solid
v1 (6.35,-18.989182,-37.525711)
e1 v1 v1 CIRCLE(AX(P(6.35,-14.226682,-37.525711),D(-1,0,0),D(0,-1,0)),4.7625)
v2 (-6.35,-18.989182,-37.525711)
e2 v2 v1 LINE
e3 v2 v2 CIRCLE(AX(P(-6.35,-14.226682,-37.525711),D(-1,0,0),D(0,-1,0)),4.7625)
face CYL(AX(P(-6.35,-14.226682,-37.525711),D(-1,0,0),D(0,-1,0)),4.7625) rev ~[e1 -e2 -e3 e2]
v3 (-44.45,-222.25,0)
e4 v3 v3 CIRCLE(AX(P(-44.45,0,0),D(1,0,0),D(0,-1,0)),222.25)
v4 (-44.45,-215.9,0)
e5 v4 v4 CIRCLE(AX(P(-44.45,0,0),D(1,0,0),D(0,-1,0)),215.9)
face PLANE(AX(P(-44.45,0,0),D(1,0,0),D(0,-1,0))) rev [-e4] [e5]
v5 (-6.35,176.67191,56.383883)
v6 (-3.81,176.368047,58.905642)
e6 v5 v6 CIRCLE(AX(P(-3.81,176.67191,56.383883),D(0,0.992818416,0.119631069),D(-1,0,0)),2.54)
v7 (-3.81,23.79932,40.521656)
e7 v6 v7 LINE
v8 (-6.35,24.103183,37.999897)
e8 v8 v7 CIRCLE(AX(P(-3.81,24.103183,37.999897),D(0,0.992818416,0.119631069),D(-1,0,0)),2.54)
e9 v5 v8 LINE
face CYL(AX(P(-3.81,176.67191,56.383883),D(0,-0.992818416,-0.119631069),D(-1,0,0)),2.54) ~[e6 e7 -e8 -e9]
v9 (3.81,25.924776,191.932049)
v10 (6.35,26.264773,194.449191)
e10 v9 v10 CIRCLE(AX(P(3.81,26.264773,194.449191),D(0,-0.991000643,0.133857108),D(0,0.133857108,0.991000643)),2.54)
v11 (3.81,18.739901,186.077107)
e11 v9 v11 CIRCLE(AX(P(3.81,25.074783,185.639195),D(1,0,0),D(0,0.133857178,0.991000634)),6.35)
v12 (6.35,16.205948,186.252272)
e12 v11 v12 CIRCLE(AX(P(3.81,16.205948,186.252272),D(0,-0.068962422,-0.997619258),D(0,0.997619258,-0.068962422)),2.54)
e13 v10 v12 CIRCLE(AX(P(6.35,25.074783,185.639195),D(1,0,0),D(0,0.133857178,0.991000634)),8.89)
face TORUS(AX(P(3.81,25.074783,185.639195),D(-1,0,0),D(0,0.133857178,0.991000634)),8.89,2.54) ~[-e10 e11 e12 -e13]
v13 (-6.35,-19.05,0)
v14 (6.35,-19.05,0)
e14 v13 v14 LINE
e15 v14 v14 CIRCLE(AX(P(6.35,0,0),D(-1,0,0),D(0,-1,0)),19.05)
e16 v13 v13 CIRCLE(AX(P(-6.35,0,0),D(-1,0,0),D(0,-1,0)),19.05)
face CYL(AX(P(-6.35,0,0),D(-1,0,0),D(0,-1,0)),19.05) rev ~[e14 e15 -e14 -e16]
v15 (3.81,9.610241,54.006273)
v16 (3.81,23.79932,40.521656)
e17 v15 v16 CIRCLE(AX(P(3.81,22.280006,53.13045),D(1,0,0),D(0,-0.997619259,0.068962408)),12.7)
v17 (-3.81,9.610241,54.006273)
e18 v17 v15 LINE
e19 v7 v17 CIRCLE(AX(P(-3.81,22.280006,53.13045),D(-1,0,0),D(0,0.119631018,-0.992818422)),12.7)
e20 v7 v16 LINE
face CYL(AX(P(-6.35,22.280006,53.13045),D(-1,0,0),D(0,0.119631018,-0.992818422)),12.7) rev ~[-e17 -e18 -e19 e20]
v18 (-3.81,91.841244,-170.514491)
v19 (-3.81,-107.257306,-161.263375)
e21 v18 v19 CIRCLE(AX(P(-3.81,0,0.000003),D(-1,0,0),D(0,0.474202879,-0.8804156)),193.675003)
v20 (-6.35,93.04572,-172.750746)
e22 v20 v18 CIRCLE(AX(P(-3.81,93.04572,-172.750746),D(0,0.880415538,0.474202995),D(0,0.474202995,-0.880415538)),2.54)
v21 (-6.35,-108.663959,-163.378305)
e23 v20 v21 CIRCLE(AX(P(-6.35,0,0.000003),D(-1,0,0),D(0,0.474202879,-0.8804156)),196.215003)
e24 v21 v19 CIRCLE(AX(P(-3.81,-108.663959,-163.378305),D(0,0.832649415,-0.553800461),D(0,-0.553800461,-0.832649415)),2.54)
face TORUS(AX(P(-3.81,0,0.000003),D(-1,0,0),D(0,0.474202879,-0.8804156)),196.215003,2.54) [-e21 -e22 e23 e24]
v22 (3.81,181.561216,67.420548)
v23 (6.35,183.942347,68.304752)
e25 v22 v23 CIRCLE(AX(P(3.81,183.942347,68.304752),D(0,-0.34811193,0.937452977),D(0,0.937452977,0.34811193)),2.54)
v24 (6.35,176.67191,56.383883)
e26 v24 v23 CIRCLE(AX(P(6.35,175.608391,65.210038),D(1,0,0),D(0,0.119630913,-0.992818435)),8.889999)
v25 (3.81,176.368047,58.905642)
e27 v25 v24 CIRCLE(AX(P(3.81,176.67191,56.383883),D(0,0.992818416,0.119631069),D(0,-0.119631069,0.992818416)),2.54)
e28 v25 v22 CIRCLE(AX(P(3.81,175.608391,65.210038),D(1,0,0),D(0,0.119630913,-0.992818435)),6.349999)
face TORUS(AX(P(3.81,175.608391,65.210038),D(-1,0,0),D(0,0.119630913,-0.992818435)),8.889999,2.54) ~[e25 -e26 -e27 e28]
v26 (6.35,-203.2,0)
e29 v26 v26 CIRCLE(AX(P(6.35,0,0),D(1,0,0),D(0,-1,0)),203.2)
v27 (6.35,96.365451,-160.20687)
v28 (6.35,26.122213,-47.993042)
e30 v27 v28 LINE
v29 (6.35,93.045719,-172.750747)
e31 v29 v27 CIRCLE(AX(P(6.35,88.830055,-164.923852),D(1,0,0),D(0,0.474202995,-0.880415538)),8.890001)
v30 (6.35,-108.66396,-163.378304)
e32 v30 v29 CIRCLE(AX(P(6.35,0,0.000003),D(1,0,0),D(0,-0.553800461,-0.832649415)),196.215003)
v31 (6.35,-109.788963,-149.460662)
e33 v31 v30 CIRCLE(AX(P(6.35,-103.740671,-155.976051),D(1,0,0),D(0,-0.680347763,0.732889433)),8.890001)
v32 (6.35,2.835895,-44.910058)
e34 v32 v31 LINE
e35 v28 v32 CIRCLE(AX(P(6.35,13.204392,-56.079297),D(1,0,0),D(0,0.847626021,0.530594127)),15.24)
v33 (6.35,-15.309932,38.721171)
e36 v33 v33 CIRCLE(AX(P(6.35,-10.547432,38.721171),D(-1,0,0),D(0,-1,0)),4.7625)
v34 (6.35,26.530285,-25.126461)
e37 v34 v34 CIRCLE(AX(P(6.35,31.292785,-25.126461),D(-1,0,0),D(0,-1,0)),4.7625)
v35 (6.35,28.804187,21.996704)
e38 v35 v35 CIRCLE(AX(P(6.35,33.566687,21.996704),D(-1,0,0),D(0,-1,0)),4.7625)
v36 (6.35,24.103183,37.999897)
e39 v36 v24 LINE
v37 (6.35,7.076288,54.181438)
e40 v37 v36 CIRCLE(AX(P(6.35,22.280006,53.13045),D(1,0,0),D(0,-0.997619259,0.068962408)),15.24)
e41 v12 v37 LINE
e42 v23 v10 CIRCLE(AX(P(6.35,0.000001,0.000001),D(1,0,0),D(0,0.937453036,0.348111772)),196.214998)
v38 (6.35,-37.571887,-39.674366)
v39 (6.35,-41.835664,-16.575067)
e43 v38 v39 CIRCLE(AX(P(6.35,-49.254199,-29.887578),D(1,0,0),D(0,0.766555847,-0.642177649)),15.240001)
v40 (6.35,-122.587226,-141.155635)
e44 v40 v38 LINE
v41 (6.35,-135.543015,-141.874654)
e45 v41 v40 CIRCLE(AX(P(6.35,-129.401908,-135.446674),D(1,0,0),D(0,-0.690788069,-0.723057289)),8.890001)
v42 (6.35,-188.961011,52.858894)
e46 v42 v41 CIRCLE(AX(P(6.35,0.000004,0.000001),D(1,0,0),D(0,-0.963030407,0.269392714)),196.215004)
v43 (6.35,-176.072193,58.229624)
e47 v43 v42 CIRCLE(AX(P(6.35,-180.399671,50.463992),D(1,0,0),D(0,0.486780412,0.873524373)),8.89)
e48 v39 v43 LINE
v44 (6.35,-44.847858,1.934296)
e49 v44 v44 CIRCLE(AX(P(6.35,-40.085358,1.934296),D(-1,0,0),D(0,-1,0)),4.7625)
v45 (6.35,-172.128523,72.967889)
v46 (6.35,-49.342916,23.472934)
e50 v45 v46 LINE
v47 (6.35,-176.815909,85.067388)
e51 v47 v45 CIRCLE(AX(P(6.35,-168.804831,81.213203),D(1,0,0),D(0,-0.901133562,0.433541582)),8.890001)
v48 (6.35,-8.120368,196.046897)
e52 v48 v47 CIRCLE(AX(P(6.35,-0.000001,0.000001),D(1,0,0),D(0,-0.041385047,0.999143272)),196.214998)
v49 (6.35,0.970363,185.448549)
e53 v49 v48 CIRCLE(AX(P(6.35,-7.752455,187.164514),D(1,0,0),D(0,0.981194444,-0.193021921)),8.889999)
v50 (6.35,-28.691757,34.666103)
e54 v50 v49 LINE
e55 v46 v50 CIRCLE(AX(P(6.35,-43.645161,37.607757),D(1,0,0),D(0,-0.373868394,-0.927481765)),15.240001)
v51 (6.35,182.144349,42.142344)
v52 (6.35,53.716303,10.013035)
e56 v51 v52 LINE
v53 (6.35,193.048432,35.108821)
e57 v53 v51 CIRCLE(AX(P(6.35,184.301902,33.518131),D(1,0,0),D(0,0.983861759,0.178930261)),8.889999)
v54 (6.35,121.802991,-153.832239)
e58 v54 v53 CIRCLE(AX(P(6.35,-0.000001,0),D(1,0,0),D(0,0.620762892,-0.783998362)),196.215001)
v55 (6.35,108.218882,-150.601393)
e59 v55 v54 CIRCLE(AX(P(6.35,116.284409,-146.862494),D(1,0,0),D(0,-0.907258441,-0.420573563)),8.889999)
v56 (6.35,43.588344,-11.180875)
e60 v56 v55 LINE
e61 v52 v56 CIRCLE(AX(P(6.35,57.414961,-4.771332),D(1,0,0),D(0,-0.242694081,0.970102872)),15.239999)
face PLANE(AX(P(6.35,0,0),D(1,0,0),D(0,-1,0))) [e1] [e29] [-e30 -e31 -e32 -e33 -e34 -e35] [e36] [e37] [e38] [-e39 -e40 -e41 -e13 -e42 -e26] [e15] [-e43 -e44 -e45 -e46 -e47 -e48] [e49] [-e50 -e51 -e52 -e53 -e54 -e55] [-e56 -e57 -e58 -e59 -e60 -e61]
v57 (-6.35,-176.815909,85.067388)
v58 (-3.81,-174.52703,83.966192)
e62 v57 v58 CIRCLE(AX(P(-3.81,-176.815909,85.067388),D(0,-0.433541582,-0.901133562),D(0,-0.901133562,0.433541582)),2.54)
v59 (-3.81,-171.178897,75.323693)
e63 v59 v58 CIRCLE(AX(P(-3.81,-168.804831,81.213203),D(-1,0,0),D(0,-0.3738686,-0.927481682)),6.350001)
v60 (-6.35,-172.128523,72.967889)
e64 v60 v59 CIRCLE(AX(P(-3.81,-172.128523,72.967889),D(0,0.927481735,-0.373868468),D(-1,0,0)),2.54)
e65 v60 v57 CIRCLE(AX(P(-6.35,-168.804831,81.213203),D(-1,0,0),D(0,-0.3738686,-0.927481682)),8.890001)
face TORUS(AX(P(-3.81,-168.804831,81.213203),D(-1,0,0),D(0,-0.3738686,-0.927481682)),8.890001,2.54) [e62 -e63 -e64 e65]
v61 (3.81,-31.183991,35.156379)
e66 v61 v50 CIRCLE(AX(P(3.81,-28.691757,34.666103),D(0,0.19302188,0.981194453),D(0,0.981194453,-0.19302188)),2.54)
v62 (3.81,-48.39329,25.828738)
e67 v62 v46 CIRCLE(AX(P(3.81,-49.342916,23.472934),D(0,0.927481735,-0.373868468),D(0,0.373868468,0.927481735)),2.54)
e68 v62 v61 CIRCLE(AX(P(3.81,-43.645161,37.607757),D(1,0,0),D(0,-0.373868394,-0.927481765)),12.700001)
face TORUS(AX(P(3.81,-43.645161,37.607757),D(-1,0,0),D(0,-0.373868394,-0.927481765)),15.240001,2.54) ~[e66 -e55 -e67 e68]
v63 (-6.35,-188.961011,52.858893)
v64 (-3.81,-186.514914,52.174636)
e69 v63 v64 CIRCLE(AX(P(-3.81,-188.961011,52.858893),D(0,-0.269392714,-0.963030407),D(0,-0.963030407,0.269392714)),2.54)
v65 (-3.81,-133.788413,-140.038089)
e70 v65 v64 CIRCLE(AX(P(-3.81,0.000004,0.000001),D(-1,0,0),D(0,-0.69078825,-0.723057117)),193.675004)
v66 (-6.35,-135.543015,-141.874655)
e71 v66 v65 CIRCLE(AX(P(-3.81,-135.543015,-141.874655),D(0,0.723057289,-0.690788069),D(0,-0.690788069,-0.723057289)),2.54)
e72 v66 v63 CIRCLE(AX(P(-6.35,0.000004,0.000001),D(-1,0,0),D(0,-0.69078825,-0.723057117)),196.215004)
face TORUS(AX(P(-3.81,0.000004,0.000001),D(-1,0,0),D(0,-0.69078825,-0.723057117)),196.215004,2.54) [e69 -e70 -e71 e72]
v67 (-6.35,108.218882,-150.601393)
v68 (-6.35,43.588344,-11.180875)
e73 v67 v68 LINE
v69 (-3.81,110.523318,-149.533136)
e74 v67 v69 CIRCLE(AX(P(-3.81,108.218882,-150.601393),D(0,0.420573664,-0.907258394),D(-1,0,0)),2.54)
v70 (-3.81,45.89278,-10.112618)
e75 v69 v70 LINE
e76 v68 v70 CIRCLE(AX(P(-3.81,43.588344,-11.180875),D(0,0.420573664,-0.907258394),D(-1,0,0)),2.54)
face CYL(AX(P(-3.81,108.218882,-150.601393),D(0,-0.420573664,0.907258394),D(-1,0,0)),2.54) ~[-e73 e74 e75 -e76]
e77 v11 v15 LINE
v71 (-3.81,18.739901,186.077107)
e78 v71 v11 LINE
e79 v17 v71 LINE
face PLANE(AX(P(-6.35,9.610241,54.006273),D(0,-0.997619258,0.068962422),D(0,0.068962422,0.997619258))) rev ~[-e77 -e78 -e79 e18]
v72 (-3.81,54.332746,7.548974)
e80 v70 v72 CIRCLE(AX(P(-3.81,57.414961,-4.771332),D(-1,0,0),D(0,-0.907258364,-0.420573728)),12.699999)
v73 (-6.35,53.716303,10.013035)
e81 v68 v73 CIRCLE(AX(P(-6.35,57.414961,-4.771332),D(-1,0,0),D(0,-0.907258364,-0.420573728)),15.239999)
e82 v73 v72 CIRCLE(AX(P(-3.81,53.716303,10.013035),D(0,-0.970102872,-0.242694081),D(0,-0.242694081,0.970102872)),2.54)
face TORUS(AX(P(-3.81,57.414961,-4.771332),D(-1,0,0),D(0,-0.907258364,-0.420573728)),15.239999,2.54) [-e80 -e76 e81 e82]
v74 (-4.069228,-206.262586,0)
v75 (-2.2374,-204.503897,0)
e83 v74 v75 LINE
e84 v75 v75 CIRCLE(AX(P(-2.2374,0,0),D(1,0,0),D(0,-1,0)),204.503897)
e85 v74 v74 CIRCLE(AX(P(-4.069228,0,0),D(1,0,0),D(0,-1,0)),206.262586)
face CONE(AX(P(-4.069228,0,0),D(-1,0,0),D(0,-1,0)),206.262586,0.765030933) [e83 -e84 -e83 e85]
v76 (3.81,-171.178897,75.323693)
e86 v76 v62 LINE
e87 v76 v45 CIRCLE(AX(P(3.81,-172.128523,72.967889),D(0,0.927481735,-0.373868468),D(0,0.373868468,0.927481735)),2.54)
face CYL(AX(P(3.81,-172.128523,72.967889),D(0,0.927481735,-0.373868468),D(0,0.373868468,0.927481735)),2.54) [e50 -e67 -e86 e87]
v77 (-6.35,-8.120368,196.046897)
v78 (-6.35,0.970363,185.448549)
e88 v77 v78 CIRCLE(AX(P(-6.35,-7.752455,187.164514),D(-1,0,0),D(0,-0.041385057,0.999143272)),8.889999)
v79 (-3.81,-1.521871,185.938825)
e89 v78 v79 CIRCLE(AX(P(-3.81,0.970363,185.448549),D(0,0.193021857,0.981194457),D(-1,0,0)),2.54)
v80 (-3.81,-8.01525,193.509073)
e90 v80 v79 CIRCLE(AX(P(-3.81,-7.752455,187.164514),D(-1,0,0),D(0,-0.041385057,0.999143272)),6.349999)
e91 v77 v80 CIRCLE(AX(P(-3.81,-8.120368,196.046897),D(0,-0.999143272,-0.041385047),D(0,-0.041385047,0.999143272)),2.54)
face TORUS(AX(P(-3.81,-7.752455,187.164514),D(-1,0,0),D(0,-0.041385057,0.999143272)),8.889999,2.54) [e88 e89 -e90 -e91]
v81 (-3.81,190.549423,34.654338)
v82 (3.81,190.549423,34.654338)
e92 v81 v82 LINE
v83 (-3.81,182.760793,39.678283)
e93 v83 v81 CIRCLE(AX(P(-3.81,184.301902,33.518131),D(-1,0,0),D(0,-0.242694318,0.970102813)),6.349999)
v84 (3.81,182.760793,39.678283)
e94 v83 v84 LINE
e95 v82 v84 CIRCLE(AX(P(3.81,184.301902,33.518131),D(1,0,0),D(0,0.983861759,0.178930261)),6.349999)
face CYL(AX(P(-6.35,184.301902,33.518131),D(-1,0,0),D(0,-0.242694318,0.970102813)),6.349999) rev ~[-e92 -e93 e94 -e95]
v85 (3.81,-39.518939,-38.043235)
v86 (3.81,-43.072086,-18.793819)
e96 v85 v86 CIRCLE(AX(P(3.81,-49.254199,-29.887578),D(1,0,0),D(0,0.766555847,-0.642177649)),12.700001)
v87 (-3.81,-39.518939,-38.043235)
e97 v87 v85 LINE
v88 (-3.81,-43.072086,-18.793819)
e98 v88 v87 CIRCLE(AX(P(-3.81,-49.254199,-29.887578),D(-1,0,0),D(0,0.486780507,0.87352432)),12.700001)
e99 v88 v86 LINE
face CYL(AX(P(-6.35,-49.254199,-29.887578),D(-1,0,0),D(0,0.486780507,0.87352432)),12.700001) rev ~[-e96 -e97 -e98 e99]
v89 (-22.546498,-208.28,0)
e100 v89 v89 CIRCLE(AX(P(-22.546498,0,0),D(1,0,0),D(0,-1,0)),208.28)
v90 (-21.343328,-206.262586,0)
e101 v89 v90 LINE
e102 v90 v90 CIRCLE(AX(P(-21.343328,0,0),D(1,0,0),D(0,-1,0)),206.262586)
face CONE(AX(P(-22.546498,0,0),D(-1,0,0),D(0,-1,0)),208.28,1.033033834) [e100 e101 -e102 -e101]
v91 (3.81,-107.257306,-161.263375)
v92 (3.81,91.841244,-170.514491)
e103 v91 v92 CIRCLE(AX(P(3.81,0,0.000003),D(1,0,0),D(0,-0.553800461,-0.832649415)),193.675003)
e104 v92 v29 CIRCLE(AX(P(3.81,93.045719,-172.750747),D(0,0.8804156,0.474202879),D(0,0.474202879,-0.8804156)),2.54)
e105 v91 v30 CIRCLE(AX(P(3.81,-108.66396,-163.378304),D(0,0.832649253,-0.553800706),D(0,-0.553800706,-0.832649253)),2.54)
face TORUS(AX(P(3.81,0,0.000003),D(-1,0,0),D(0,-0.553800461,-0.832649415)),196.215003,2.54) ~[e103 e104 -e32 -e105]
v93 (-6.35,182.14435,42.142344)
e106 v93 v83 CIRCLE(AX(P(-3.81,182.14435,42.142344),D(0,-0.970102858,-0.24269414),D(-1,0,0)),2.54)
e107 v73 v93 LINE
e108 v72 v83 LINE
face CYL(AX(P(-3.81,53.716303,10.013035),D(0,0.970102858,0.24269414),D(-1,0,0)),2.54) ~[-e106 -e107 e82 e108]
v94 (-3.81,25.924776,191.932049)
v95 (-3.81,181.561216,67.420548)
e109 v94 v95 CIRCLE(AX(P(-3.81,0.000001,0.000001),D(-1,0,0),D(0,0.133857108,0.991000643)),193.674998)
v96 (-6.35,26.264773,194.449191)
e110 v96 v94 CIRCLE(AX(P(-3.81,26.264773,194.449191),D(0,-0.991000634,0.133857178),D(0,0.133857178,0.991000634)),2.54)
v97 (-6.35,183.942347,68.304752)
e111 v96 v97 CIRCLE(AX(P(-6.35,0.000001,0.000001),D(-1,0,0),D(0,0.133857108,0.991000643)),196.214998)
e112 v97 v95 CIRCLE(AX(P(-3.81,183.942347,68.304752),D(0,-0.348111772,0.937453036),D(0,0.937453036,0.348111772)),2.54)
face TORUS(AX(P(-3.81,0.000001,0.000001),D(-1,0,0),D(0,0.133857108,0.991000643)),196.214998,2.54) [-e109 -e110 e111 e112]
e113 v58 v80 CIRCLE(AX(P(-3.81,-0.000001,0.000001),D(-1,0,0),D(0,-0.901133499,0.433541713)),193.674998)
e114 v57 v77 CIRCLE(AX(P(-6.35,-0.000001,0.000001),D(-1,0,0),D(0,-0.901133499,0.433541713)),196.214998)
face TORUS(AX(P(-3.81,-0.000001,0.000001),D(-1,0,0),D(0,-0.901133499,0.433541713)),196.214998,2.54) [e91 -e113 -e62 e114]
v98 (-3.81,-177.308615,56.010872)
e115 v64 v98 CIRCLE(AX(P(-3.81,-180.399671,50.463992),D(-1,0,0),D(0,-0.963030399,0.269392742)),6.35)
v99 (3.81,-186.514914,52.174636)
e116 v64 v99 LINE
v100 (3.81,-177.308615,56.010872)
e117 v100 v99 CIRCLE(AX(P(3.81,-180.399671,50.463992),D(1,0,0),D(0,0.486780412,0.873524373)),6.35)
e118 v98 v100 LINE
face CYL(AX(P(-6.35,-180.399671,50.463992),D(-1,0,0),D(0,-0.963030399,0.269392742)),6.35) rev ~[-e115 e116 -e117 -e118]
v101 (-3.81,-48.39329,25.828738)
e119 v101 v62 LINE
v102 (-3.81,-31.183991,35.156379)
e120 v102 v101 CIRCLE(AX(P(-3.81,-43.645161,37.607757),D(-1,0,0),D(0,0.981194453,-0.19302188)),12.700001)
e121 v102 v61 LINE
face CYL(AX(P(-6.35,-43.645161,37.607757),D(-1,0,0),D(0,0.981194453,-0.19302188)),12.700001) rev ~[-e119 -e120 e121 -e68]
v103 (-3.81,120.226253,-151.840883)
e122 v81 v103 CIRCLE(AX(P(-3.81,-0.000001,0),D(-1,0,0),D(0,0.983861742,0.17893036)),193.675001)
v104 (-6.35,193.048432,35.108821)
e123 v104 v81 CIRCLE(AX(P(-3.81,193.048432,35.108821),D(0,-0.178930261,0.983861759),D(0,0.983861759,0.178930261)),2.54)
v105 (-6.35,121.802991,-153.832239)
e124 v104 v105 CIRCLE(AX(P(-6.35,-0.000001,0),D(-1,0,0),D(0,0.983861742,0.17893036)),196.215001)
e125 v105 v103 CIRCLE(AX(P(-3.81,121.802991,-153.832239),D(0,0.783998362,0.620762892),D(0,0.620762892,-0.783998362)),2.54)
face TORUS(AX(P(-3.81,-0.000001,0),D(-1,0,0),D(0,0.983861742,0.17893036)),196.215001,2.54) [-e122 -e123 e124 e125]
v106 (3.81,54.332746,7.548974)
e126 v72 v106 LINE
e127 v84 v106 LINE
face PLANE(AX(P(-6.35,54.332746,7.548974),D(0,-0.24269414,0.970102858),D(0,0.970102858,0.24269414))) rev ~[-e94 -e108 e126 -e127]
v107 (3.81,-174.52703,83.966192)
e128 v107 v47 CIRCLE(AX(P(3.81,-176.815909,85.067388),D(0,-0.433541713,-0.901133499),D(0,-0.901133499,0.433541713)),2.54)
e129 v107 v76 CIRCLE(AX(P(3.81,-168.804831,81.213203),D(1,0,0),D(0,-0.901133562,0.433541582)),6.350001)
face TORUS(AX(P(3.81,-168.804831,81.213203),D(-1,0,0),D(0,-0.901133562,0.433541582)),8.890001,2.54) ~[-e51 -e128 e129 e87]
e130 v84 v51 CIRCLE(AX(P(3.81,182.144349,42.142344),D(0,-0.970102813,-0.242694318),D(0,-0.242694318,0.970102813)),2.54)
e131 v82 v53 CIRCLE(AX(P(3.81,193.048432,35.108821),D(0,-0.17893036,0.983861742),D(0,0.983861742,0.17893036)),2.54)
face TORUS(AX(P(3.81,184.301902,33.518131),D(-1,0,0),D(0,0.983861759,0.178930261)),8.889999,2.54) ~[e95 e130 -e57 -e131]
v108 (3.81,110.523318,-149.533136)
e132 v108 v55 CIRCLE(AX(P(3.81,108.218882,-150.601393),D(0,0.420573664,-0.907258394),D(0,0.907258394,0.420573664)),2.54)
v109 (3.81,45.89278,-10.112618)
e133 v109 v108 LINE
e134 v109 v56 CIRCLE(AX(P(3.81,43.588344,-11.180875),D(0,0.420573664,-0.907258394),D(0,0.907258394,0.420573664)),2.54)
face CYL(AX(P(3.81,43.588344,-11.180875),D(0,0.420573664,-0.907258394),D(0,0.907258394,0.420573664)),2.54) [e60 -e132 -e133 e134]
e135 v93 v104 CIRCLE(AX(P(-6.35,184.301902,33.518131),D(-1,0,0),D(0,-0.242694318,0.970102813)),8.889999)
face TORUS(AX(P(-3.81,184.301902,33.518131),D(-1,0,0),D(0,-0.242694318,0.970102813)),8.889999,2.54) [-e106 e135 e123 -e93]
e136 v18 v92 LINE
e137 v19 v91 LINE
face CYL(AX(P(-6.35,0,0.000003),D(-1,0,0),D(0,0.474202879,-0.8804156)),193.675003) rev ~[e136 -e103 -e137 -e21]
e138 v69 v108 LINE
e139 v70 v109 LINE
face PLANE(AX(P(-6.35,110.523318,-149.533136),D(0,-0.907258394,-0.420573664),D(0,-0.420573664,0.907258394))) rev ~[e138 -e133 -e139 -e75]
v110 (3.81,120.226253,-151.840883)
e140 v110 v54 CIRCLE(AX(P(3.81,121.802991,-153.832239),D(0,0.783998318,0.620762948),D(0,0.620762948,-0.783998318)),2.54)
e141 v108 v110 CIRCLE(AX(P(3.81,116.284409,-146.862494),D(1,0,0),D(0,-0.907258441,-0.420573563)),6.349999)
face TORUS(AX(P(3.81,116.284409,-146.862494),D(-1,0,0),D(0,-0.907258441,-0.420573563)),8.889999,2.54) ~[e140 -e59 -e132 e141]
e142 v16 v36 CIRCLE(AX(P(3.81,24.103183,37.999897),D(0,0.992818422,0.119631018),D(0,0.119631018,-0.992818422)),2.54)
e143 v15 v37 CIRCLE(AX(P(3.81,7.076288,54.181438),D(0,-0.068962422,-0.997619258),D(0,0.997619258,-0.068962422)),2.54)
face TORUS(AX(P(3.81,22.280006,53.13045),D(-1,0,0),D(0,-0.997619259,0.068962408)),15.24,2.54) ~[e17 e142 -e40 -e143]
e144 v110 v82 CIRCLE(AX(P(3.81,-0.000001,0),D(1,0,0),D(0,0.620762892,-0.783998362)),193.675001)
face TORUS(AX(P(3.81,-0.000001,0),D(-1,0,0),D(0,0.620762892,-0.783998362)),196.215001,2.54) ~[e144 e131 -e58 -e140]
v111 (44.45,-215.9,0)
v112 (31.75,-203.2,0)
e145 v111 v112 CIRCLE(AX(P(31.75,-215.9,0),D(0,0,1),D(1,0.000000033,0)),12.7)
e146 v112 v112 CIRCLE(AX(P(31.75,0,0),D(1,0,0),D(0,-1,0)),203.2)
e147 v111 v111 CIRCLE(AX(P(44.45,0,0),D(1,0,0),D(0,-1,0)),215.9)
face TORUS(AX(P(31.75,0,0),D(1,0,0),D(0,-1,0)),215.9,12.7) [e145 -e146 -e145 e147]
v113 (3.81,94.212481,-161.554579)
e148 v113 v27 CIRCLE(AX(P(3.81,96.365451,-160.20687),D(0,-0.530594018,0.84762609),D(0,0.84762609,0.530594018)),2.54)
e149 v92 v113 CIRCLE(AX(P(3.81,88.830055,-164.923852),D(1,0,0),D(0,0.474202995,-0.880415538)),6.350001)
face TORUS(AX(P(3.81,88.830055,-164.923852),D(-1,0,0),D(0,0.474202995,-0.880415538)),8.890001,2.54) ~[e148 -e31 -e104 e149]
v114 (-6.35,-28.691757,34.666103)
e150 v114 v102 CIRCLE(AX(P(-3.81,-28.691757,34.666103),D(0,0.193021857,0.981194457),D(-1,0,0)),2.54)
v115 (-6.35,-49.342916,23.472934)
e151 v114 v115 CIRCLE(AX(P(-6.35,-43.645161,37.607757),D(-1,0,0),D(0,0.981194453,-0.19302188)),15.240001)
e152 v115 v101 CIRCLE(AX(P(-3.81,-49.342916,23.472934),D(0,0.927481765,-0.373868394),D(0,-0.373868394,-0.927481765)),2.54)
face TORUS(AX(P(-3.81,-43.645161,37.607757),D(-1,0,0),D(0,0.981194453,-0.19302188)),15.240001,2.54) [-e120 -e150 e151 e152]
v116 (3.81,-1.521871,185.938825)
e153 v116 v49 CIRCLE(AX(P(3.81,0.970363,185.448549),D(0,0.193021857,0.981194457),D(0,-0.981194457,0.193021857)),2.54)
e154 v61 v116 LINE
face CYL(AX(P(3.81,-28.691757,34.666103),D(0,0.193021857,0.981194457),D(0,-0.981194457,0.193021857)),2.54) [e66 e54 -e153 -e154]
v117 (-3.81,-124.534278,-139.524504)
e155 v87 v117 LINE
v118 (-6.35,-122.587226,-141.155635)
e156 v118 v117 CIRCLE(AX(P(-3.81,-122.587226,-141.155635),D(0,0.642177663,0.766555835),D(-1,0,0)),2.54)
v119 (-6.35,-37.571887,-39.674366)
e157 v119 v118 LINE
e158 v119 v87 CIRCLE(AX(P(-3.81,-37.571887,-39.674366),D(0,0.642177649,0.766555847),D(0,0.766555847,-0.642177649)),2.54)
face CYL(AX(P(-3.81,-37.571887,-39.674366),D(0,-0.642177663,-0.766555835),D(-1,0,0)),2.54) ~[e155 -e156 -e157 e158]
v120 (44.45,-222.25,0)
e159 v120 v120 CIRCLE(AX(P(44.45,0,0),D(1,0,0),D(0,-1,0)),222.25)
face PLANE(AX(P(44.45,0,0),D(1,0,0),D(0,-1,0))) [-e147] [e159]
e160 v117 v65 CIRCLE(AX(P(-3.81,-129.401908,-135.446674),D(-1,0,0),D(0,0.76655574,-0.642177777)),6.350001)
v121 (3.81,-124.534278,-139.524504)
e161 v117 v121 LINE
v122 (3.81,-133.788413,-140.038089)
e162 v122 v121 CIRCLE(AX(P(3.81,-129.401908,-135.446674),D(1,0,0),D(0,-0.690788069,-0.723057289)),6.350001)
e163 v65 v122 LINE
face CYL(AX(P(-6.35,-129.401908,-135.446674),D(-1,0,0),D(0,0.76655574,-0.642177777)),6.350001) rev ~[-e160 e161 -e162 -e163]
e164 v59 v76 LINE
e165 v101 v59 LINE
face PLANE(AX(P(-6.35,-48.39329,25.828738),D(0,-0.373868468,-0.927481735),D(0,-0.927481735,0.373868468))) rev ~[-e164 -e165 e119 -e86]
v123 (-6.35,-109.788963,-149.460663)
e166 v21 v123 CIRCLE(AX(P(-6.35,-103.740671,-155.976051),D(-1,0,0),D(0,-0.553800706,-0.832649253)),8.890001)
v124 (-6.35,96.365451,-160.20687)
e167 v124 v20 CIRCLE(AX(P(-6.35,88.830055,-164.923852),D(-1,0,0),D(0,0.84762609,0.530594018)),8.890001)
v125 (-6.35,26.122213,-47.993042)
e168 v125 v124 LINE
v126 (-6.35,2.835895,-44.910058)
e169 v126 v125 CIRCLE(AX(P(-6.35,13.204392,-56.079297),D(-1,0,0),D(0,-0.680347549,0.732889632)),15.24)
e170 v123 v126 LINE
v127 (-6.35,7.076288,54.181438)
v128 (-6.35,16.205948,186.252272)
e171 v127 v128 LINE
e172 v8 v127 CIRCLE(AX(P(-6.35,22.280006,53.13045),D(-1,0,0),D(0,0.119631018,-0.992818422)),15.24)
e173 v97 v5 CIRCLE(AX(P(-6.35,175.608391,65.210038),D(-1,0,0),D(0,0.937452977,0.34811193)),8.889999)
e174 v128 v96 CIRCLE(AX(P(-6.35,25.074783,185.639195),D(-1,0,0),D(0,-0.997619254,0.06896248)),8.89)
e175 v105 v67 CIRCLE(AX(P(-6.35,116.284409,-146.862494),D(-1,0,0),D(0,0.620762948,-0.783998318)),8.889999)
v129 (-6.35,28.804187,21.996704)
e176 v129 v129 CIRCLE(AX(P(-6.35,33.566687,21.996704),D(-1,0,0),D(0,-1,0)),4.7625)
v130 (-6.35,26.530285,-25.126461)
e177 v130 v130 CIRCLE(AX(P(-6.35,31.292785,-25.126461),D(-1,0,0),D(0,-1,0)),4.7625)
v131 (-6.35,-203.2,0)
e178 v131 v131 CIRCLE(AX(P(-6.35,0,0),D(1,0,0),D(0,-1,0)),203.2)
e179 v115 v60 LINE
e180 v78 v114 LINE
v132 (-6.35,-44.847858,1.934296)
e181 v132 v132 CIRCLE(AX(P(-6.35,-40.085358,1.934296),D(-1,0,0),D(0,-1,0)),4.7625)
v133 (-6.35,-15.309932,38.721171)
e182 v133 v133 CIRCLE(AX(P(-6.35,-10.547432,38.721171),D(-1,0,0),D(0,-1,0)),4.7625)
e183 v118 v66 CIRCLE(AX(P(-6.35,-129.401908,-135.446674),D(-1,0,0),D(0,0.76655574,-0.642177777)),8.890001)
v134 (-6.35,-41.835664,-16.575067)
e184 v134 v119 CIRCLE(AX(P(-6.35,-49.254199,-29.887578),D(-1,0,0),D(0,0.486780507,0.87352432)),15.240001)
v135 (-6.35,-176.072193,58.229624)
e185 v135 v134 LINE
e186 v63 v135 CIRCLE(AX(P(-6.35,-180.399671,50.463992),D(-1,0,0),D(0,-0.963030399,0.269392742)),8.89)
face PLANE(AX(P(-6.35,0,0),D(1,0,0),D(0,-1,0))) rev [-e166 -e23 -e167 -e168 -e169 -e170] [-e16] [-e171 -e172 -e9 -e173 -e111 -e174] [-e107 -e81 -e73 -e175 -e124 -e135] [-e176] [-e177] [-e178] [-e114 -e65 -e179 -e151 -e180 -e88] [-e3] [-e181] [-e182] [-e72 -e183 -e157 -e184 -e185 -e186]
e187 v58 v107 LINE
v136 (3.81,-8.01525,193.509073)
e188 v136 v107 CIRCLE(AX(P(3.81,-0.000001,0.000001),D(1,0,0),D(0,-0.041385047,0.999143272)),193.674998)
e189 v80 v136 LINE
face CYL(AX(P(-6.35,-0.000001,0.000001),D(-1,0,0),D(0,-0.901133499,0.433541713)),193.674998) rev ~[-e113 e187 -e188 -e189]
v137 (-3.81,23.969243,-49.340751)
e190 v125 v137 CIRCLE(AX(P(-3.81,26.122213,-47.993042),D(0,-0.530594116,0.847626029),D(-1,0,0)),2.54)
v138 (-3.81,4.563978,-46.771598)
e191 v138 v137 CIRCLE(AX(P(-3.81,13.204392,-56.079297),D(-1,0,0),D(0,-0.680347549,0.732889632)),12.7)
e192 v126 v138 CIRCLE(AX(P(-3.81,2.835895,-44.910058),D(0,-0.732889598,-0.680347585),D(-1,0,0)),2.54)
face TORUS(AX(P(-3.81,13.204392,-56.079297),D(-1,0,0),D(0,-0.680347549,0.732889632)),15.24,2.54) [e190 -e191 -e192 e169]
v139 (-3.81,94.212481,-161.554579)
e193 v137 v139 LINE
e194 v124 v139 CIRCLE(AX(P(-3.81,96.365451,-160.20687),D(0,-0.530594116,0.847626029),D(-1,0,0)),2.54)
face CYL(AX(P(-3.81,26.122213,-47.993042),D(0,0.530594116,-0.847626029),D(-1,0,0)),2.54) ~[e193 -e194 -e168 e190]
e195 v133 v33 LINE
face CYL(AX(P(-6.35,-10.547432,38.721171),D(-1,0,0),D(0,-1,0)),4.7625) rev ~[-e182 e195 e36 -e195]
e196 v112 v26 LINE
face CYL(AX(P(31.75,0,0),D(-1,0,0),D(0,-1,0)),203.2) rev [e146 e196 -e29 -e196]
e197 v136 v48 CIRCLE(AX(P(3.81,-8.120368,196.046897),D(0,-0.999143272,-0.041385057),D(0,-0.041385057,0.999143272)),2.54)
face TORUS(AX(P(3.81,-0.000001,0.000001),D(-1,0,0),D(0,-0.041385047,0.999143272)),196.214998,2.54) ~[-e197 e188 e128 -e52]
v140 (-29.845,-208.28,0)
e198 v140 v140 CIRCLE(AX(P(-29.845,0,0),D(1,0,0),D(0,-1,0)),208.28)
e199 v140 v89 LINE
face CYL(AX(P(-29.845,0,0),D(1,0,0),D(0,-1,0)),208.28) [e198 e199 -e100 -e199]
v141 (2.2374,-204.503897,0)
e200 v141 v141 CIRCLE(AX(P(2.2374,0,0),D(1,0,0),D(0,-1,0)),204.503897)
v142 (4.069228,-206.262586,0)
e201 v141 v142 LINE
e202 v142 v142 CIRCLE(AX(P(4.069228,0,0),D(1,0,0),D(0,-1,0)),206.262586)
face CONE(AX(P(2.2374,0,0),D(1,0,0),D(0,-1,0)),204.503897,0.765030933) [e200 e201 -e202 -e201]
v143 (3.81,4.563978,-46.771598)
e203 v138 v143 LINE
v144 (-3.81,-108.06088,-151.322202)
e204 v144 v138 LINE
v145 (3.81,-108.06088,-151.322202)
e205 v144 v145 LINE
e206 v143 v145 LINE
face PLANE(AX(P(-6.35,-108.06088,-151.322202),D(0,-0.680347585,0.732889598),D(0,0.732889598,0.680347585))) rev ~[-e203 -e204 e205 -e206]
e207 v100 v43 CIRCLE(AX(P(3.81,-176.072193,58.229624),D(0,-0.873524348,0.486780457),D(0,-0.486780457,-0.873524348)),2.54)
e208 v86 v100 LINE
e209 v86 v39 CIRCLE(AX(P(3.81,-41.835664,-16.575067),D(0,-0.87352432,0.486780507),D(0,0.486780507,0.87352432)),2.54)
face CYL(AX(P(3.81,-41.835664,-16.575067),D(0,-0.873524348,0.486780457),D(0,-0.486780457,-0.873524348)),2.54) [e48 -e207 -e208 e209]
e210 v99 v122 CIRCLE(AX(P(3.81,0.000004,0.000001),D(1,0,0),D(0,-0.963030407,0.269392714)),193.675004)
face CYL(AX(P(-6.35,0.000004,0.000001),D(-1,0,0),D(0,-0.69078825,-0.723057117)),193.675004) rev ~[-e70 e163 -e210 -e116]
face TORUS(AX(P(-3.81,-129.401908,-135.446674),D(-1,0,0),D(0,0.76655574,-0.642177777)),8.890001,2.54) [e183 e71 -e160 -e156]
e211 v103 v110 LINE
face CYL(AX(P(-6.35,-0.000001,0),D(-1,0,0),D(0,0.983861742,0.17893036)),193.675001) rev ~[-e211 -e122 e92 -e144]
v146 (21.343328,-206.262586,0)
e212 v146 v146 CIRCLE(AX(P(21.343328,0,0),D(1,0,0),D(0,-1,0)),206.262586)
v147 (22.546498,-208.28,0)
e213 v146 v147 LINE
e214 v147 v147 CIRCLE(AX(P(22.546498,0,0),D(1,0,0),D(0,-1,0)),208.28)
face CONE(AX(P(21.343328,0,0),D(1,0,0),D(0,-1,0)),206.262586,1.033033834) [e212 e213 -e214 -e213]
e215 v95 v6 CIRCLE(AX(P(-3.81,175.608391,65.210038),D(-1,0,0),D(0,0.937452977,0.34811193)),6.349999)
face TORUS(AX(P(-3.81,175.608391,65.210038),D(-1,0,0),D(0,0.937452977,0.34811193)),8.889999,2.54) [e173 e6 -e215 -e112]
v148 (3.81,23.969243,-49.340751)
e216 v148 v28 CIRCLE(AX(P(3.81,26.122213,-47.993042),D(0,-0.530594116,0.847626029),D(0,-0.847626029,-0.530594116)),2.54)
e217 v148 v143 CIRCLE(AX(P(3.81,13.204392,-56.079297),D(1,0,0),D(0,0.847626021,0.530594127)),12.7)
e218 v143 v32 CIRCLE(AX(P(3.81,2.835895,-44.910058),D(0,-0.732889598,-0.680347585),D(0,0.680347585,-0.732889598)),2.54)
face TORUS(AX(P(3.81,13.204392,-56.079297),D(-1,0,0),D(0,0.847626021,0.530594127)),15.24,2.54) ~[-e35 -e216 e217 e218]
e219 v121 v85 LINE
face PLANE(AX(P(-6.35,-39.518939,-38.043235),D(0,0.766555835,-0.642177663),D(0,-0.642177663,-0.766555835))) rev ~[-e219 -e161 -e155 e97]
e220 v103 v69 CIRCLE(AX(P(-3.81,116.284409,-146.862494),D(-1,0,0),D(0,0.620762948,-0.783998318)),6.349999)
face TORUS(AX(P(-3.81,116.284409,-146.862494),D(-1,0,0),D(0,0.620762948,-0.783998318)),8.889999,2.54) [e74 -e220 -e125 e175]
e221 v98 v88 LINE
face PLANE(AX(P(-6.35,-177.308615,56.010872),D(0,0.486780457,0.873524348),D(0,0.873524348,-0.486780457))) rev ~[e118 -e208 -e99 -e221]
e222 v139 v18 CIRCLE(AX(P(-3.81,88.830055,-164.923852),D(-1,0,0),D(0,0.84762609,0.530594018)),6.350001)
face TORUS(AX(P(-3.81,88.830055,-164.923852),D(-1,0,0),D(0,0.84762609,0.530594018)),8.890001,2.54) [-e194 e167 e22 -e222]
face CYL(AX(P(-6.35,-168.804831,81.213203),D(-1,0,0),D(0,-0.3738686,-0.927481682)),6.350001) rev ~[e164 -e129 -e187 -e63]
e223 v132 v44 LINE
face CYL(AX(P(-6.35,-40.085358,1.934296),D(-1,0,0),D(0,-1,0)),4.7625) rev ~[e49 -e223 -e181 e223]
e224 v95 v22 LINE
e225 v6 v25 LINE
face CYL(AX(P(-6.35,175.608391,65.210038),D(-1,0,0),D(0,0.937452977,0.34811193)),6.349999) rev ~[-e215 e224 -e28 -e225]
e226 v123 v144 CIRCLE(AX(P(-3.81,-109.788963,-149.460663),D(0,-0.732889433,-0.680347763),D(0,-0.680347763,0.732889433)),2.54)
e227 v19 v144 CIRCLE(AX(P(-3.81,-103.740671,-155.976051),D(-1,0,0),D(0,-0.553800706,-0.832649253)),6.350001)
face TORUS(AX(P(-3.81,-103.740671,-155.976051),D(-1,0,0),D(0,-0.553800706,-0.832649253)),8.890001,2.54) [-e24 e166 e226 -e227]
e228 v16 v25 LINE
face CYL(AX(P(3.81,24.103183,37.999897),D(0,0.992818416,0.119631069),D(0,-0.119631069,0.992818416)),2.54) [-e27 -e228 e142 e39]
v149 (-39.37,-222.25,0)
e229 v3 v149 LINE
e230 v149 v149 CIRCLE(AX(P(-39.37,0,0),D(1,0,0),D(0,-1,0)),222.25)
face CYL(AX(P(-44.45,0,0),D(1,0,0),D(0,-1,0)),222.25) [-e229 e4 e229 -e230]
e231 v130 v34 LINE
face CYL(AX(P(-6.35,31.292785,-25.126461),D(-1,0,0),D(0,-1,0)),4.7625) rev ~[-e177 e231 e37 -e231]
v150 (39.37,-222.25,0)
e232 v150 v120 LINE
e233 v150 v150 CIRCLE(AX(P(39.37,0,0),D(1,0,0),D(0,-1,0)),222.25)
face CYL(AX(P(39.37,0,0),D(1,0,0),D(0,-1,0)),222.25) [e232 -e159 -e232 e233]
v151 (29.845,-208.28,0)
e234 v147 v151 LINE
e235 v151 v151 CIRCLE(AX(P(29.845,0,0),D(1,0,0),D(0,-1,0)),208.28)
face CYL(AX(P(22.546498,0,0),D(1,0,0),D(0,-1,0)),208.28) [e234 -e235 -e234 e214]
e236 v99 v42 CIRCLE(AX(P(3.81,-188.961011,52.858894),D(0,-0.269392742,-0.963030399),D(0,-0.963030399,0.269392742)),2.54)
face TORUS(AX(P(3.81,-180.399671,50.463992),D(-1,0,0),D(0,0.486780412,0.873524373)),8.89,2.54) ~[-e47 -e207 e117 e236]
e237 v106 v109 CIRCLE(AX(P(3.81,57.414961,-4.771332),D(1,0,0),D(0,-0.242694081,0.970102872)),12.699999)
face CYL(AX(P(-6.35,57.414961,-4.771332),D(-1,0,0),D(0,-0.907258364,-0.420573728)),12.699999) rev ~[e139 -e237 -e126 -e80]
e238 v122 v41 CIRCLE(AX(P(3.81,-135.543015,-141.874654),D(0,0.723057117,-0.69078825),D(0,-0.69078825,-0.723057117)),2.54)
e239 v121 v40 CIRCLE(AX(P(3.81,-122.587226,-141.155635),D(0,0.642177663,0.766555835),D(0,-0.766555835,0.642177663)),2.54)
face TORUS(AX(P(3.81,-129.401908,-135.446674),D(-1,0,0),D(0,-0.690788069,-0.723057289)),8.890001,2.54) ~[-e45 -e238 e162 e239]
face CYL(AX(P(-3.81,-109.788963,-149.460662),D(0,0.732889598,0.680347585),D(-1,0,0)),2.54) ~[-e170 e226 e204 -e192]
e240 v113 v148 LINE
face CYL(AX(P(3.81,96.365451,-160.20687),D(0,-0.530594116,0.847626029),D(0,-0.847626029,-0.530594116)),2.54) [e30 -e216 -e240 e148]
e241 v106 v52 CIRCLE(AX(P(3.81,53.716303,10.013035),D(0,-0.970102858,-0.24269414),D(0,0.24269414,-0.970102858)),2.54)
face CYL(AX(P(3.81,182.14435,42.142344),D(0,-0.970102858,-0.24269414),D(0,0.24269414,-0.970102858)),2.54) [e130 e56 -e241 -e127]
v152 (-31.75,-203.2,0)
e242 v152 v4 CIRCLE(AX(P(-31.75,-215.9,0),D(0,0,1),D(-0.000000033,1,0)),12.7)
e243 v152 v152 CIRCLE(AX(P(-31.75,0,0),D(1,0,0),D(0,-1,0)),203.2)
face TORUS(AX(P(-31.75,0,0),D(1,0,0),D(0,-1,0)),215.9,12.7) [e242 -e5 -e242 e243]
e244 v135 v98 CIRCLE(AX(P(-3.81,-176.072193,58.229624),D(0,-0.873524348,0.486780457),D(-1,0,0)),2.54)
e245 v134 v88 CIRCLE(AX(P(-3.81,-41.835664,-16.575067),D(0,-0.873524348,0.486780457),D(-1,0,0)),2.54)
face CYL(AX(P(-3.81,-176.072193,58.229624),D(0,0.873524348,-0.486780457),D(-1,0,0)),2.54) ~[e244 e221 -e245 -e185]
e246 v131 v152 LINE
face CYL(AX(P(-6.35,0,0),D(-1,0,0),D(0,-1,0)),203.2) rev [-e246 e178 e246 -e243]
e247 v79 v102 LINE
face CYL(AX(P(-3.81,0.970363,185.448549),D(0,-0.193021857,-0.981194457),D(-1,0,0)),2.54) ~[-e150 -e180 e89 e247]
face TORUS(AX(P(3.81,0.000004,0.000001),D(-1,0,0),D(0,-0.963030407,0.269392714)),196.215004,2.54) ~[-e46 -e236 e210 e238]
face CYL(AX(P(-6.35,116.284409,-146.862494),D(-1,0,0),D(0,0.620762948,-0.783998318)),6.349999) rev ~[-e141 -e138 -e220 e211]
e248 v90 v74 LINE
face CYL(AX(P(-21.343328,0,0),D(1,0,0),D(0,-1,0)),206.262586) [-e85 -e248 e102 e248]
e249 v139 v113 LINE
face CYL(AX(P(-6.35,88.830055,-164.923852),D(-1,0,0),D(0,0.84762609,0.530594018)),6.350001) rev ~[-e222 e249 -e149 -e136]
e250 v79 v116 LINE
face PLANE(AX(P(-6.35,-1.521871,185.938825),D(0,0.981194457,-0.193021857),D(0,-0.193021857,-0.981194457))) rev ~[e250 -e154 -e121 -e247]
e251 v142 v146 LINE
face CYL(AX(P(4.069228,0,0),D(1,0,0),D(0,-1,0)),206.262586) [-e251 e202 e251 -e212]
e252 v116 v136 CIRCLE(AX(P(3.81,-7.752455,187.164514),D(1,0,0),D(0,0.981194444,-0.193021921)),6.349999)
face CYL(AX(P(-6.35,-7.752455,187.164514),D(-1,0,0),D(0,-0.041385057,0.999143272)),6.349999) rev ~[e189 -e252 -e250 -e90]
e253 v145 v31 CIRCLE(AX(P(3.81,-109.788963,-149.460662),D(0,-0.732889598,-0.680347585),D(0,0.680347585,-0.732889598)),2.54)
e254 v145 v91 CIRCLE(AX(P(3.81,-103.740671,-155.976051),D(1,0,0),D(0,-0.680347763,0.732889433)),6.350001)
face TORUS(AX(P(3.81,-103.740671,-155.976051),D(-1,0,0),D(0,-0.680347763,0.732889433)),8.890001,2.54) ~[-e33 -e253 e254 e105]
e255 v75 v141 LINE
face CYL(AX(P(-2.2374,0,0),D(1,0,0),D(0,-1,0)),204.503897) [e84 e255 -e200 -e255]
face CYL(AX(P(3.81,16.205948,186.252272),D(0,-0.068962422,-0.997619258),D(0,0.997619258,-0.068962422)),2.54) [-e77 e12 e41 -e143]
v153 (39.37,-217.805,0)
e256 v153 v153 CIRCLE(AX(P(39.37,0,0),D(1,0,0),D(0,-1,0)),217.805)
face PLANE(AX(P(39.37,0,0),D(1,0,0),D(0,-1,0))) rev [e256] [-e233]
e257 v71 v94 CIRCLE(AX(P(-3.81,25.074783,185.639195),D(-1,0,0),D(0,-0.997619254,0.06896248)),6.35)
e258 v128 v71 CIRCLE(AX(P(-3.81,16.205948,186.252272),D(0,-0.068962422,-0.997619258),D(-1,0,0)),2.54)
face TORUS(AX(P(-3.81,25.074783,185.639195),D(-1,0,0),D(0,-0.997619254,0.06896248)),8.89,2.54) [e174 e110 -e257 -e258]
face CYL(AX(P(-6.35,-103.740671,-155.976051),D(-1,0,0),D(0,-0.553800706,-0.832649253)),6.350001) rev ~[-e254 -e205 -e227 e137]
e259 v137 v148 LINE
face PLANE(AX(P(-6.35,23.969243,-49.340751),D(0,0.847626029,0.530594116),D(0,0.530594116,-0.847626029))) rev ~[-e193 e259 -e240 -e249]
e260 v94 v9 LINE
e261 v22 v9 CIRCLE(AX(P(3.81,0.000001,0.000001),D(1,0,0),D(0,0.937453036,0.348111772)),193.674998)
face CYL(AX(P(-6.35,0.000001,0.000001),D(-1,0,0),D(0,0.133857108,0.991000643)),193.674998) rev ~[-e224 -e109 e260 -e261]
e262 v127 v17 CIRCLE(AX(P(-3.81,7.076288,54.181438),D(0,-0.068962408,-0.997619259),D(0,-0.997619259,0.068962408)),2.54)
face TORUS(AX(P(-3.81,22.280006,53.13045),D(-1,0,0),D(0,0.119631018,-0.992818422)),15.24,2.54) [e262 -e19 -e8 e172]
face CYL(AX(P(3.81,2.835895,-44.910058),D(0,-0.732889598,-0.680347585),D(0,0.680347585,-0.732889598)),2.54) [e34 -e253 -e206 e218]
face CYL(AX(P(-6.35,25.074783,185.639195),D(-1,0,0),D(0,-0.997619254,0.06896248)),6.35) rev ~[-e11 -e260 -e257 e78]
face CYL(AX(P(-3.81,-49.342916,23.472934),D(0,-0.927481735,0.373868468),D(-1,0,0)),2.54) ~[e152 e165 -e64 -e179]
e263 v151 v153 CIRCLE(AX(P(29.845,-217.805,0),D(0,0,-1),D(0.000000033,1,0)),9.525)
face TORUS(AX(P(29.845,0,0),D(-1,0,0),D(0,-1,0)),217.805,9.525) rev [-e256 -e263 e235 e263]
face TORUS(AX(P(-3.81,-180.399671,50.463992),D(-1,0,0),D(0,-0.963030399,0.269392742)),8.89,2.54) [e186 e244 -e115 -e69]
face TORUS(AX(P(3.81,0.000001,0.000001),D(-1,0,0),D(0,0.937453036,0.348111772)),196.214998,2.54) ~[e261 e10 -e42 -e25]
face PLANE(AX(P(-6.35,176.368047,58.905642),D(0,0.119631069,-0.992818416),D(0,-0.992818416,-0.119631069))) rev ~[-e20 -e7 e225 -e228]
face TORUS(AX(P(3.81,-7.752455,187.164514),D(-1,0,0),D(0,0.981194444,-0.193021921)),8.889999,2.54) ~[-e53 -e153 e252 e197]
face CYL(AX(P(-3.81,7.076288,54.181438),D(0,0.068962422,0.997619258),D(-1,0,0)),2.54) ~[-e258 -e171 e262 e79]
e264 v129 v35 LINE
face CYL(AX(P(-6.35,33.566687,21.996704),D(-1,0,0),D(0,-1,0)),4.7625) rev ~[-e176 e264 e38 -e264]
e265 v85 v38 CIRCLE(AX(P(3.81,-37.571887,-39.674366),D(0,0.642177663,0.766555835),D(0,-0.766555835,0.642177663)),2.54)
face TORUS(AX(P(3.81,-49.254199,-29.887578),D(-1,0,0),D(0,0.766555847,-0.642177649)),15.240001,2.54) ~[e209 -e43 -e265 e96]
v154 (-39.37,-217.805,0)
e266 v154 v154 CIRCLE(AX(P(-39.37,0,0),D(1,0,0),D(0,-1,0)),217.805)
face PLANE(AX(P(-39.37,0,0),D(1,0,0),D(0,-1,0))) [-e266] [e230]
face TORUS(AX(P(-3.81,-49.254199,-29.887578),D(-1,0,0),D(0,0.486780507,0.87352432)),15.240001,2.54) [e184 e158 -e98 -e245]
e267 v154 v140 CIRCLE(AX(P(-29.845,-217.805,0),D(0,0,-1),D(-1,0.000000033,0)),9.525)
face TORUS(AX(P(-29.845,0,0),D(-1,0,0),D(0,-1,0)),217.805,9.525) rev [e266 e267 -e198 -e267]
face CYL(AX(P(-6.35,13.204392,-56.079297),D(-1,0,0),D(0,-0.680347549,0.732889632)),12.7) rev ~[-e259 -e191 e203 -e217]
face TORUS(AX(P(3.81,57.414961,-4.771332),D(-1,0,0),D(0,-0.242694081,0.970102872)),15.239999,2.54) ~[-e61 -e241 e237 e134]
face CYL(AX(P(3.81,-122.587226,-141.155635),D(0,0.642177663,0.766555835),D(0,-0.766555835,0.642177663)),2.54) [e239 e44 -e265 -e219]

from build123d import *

# Parameters (mm, degrees)
F2_R     = 19.05
F3_DEPTH = 50.801
F4_R     = 2.54
F5_R     = 4.7625
F6_DEPTH = 50.801


with BuildPart() as f1:
    # F0 (on Top) → F1 (revolve)
    with BuildSketch(Plane.XY):
        with BuildLine():
            Line((6.35, 0), (-6.35, 0))
            Line((-6.35, 0), (-6.35, -203.2))
            Line((-6.35, -203.2), (-31.75, -203.2))
            ThreePointArc((-31.75, -203.2), (-40.730256, -206.919744), (-44.45, -215.9))
            Line((-44.45, -215.9), (-44.45, -222.25))
            Line((-44.45, -222.25), (-39.37, -222.25))
            Line((-39.37, -222.25), (-39.37, -217.805))
            ThreePointArc((-39.37, -217.805), (-36.580192, -211.069808), (-29.845, -208.28))
            Line((-29.845, -208.28), (-22.546498, -208.28))
            Line((-22.546498, -208.28), (-21.343328, -206.262586))
            Line((-21.343328, -206.262586), (-4.069228, -206.262586))
            Line((-4.069228, -206.262586), (-2.2374, -204.503897))
            Line((-2.2374, -204.503897), (0, -204.503897))
            Line((0, -204.503897), (2.2374, -204.503897))
            Line((2.2374, -204.503897), (4.069228, -206.262586))
            Line((4.069228, -206.262586), (21.343328, -206.262586))
            Line((21.343328, -206.262586), (22.546498, -208.28))
            Line((22.546498, -208.28), (29.845, -208.28))
            ThreePointArc((29.845, -208.28), (36.580192, -211.069808), (39.37, -217.805))
            Line((39.37, -217.805), (39.37, -222.25))
            Line((39.37, -222.25), (44.45, -222.25))
            Line((44.45, -222.25), (44.45, -215.9))
            ThreePointArc((44.45, -215.9), (40.730256, -206.919744), (31.75, -203.2))
            Line((31.75, -203.2), (6.35, -203.2))
            Line((6.35, -203.2), (6.35, 0))
        make_face()
    revolve(axis=Axis((0, 0, 0), (1, 0, 0)))

    # F2 (on face) → F3 (cut, through all)
    with BuildSketch(Plane(origin=(-6.35, 0, 0), x_dir=(0, -1, 0), z_dir=(-1, 0, 0))):
        Circle(F2_R)
        with BuildLine():
            ThreePointArc((-18.739901, 186.077107), (-21.063413, 190.561736), (-25.924776, 191.932049))
            ThreePointArc((-25.924776, 191.932049), (-120.989205, 151.233653), (-181.561216, 67.420548))
            ThreePointArc((-181.561216, 67.420548), (-181.029669, 61.903646), (-176.368047, 58.905642))
            Line((-176.368047, 58.905642), (-23.79932, 40.521656))
            ThreePointArc((-23.79932, 40.521656), (-13.531185, 43.924575), (-9.610241, 54.006273))
            Line((-9.610241, 54.006273), (-18.739901, 186.077107))
        make_face()
        with BuildLine():
            ThreePointArc((-45.89278, -10.112618), (-45.956119, 0.704518), (-54.332746, 7.548974))
            Line((-54.332746, 7.548974), (-182.760793, 39.678283))
            ThreePointArc((-182.760793, 39.678283), (-187.743934, 38.854319), (-190.549423, 34.654338))
            ThreePointArc((-190.549423, 34.654338), (-181.219472, -68.333803), (-120.226253, -151.840883))
            ThreePointArc((-120.226253, -151.840883), (-114.81511, -153.040168), (-110.523318, -149.533136))
            Line((-110.523318, -149.533136), (-45.89278, -10.112618))
        make_face()
        with BuildLine():
            ThreePointArc((-4.563978, -46.771598), (-14.871259, -43.489159), (-23.969243, -49.340751))
            Line((-23.969243, -49.340751), (-94.212481, -161.554579))
            ThreePointArc((-94.212481, -161.554579), (-94.968719, -166.548447), (-91.841244, -170.514491))
            ThreePointArc((-91.841244, -170.514491), (8.989412, -193.466266), (107.257306, -161.263375))
            ThreePointArc((107.257306, -161.263375), (110.070028, -156.487671), (108.06088, -151.322202))
            Line((108.06088, -151.322202), (-4.563978, -46.771598))
        make_face()
        with BuildLine():
            ThreePointArc((43.072086, -18.793819), (36.765176, -27.582296), (39.518939, -38.043235))
            Line((39.518939, -38.043235), (124.534278, -139.524504))
            ThreePointArc((124.534278, -139.524504), (129.050037, -141.786919), (133.788413, -140.038089))
            ThreePointArc((133.788413, -140.038089), (186.775234, -51.234925), (186.514914, 52.174636))
            ThreePointArc((186.514914, 52.174636), (182.842129, 56.325468), (177.308615, 56.010872))
            Line((177.308615, 56.010872), (43.072086, -18.793819))
        make_face()
        with BuildLine():
            ThreePointArc((31.183991, 35.156379), (37.593387, 26.442362), (48.39329, 25.828738))
            Line((48.39329, 25.828738), (171.178897, 75.323693))
            ThreePointArc((171.178897, 75.323693), (174.726028, 78.919311), (174.52703, 83.966192))
            ThreePointArc((174.52703, 83.966192), (106.444031, 161.801341), (8.01525, 193.509073))
            ThreePointArc((8.01525, 193.509073), (2.932622, 191.298725), (1.521871, 185.938825))
            Line((1.521871, 185.938825), (31.183991, 35.156379))
        make_face()
    extrude(amount=-F3_DEPTH, mode=Mode.SUBTRACT)

    # F4
    f4_edges = [f1.edges().sort_by_distance(p)[0] for p in [
        (-6.35, 100.083683, 49.713649),
        (-6.35, -16.352931, 110.547602),
        (-6.35, -110.19035, 18.608526),
        (-6.35, 59.090862, -105.447665),
        (-6.35, 78.208049, -79.822877),
        (6.35, -51.748451, -99.0469),
        (6.35, 78.208049, -79.822877),
        (6.35, 14.175071, 120.04169),
        (6.35, -109.786094, 50.576216),
        (6.35, -82.026608, -88.783869),
    ]]
    fillet(f4_edges, radius=F4_R)

    # F5 (on face) → F6 (cut, through all)
    with BuildSketch(Plane(origin=(-6.35, 0, 0), x_dir=(0, -1, 0), z_dir=(-1, 0, 0))):
        with Locations((10.547432, 38.721171)):
            Circle(F5_R)
        with Locations((-33.566687, 21.996704)):
            Circle(F5_R)
        with Locations((-31.292785, -25.126461)):
            Circle(F5_R)
        with Locations((14.226682, -37.525711)):
            Circle(F5_R)
        with Locations((40.085358, 1.934296)):
            Circle(F5_R)
    extrude(amount=-F6_DEPTH, mode=Mode.SUBTRACT)


solid = f1.part
